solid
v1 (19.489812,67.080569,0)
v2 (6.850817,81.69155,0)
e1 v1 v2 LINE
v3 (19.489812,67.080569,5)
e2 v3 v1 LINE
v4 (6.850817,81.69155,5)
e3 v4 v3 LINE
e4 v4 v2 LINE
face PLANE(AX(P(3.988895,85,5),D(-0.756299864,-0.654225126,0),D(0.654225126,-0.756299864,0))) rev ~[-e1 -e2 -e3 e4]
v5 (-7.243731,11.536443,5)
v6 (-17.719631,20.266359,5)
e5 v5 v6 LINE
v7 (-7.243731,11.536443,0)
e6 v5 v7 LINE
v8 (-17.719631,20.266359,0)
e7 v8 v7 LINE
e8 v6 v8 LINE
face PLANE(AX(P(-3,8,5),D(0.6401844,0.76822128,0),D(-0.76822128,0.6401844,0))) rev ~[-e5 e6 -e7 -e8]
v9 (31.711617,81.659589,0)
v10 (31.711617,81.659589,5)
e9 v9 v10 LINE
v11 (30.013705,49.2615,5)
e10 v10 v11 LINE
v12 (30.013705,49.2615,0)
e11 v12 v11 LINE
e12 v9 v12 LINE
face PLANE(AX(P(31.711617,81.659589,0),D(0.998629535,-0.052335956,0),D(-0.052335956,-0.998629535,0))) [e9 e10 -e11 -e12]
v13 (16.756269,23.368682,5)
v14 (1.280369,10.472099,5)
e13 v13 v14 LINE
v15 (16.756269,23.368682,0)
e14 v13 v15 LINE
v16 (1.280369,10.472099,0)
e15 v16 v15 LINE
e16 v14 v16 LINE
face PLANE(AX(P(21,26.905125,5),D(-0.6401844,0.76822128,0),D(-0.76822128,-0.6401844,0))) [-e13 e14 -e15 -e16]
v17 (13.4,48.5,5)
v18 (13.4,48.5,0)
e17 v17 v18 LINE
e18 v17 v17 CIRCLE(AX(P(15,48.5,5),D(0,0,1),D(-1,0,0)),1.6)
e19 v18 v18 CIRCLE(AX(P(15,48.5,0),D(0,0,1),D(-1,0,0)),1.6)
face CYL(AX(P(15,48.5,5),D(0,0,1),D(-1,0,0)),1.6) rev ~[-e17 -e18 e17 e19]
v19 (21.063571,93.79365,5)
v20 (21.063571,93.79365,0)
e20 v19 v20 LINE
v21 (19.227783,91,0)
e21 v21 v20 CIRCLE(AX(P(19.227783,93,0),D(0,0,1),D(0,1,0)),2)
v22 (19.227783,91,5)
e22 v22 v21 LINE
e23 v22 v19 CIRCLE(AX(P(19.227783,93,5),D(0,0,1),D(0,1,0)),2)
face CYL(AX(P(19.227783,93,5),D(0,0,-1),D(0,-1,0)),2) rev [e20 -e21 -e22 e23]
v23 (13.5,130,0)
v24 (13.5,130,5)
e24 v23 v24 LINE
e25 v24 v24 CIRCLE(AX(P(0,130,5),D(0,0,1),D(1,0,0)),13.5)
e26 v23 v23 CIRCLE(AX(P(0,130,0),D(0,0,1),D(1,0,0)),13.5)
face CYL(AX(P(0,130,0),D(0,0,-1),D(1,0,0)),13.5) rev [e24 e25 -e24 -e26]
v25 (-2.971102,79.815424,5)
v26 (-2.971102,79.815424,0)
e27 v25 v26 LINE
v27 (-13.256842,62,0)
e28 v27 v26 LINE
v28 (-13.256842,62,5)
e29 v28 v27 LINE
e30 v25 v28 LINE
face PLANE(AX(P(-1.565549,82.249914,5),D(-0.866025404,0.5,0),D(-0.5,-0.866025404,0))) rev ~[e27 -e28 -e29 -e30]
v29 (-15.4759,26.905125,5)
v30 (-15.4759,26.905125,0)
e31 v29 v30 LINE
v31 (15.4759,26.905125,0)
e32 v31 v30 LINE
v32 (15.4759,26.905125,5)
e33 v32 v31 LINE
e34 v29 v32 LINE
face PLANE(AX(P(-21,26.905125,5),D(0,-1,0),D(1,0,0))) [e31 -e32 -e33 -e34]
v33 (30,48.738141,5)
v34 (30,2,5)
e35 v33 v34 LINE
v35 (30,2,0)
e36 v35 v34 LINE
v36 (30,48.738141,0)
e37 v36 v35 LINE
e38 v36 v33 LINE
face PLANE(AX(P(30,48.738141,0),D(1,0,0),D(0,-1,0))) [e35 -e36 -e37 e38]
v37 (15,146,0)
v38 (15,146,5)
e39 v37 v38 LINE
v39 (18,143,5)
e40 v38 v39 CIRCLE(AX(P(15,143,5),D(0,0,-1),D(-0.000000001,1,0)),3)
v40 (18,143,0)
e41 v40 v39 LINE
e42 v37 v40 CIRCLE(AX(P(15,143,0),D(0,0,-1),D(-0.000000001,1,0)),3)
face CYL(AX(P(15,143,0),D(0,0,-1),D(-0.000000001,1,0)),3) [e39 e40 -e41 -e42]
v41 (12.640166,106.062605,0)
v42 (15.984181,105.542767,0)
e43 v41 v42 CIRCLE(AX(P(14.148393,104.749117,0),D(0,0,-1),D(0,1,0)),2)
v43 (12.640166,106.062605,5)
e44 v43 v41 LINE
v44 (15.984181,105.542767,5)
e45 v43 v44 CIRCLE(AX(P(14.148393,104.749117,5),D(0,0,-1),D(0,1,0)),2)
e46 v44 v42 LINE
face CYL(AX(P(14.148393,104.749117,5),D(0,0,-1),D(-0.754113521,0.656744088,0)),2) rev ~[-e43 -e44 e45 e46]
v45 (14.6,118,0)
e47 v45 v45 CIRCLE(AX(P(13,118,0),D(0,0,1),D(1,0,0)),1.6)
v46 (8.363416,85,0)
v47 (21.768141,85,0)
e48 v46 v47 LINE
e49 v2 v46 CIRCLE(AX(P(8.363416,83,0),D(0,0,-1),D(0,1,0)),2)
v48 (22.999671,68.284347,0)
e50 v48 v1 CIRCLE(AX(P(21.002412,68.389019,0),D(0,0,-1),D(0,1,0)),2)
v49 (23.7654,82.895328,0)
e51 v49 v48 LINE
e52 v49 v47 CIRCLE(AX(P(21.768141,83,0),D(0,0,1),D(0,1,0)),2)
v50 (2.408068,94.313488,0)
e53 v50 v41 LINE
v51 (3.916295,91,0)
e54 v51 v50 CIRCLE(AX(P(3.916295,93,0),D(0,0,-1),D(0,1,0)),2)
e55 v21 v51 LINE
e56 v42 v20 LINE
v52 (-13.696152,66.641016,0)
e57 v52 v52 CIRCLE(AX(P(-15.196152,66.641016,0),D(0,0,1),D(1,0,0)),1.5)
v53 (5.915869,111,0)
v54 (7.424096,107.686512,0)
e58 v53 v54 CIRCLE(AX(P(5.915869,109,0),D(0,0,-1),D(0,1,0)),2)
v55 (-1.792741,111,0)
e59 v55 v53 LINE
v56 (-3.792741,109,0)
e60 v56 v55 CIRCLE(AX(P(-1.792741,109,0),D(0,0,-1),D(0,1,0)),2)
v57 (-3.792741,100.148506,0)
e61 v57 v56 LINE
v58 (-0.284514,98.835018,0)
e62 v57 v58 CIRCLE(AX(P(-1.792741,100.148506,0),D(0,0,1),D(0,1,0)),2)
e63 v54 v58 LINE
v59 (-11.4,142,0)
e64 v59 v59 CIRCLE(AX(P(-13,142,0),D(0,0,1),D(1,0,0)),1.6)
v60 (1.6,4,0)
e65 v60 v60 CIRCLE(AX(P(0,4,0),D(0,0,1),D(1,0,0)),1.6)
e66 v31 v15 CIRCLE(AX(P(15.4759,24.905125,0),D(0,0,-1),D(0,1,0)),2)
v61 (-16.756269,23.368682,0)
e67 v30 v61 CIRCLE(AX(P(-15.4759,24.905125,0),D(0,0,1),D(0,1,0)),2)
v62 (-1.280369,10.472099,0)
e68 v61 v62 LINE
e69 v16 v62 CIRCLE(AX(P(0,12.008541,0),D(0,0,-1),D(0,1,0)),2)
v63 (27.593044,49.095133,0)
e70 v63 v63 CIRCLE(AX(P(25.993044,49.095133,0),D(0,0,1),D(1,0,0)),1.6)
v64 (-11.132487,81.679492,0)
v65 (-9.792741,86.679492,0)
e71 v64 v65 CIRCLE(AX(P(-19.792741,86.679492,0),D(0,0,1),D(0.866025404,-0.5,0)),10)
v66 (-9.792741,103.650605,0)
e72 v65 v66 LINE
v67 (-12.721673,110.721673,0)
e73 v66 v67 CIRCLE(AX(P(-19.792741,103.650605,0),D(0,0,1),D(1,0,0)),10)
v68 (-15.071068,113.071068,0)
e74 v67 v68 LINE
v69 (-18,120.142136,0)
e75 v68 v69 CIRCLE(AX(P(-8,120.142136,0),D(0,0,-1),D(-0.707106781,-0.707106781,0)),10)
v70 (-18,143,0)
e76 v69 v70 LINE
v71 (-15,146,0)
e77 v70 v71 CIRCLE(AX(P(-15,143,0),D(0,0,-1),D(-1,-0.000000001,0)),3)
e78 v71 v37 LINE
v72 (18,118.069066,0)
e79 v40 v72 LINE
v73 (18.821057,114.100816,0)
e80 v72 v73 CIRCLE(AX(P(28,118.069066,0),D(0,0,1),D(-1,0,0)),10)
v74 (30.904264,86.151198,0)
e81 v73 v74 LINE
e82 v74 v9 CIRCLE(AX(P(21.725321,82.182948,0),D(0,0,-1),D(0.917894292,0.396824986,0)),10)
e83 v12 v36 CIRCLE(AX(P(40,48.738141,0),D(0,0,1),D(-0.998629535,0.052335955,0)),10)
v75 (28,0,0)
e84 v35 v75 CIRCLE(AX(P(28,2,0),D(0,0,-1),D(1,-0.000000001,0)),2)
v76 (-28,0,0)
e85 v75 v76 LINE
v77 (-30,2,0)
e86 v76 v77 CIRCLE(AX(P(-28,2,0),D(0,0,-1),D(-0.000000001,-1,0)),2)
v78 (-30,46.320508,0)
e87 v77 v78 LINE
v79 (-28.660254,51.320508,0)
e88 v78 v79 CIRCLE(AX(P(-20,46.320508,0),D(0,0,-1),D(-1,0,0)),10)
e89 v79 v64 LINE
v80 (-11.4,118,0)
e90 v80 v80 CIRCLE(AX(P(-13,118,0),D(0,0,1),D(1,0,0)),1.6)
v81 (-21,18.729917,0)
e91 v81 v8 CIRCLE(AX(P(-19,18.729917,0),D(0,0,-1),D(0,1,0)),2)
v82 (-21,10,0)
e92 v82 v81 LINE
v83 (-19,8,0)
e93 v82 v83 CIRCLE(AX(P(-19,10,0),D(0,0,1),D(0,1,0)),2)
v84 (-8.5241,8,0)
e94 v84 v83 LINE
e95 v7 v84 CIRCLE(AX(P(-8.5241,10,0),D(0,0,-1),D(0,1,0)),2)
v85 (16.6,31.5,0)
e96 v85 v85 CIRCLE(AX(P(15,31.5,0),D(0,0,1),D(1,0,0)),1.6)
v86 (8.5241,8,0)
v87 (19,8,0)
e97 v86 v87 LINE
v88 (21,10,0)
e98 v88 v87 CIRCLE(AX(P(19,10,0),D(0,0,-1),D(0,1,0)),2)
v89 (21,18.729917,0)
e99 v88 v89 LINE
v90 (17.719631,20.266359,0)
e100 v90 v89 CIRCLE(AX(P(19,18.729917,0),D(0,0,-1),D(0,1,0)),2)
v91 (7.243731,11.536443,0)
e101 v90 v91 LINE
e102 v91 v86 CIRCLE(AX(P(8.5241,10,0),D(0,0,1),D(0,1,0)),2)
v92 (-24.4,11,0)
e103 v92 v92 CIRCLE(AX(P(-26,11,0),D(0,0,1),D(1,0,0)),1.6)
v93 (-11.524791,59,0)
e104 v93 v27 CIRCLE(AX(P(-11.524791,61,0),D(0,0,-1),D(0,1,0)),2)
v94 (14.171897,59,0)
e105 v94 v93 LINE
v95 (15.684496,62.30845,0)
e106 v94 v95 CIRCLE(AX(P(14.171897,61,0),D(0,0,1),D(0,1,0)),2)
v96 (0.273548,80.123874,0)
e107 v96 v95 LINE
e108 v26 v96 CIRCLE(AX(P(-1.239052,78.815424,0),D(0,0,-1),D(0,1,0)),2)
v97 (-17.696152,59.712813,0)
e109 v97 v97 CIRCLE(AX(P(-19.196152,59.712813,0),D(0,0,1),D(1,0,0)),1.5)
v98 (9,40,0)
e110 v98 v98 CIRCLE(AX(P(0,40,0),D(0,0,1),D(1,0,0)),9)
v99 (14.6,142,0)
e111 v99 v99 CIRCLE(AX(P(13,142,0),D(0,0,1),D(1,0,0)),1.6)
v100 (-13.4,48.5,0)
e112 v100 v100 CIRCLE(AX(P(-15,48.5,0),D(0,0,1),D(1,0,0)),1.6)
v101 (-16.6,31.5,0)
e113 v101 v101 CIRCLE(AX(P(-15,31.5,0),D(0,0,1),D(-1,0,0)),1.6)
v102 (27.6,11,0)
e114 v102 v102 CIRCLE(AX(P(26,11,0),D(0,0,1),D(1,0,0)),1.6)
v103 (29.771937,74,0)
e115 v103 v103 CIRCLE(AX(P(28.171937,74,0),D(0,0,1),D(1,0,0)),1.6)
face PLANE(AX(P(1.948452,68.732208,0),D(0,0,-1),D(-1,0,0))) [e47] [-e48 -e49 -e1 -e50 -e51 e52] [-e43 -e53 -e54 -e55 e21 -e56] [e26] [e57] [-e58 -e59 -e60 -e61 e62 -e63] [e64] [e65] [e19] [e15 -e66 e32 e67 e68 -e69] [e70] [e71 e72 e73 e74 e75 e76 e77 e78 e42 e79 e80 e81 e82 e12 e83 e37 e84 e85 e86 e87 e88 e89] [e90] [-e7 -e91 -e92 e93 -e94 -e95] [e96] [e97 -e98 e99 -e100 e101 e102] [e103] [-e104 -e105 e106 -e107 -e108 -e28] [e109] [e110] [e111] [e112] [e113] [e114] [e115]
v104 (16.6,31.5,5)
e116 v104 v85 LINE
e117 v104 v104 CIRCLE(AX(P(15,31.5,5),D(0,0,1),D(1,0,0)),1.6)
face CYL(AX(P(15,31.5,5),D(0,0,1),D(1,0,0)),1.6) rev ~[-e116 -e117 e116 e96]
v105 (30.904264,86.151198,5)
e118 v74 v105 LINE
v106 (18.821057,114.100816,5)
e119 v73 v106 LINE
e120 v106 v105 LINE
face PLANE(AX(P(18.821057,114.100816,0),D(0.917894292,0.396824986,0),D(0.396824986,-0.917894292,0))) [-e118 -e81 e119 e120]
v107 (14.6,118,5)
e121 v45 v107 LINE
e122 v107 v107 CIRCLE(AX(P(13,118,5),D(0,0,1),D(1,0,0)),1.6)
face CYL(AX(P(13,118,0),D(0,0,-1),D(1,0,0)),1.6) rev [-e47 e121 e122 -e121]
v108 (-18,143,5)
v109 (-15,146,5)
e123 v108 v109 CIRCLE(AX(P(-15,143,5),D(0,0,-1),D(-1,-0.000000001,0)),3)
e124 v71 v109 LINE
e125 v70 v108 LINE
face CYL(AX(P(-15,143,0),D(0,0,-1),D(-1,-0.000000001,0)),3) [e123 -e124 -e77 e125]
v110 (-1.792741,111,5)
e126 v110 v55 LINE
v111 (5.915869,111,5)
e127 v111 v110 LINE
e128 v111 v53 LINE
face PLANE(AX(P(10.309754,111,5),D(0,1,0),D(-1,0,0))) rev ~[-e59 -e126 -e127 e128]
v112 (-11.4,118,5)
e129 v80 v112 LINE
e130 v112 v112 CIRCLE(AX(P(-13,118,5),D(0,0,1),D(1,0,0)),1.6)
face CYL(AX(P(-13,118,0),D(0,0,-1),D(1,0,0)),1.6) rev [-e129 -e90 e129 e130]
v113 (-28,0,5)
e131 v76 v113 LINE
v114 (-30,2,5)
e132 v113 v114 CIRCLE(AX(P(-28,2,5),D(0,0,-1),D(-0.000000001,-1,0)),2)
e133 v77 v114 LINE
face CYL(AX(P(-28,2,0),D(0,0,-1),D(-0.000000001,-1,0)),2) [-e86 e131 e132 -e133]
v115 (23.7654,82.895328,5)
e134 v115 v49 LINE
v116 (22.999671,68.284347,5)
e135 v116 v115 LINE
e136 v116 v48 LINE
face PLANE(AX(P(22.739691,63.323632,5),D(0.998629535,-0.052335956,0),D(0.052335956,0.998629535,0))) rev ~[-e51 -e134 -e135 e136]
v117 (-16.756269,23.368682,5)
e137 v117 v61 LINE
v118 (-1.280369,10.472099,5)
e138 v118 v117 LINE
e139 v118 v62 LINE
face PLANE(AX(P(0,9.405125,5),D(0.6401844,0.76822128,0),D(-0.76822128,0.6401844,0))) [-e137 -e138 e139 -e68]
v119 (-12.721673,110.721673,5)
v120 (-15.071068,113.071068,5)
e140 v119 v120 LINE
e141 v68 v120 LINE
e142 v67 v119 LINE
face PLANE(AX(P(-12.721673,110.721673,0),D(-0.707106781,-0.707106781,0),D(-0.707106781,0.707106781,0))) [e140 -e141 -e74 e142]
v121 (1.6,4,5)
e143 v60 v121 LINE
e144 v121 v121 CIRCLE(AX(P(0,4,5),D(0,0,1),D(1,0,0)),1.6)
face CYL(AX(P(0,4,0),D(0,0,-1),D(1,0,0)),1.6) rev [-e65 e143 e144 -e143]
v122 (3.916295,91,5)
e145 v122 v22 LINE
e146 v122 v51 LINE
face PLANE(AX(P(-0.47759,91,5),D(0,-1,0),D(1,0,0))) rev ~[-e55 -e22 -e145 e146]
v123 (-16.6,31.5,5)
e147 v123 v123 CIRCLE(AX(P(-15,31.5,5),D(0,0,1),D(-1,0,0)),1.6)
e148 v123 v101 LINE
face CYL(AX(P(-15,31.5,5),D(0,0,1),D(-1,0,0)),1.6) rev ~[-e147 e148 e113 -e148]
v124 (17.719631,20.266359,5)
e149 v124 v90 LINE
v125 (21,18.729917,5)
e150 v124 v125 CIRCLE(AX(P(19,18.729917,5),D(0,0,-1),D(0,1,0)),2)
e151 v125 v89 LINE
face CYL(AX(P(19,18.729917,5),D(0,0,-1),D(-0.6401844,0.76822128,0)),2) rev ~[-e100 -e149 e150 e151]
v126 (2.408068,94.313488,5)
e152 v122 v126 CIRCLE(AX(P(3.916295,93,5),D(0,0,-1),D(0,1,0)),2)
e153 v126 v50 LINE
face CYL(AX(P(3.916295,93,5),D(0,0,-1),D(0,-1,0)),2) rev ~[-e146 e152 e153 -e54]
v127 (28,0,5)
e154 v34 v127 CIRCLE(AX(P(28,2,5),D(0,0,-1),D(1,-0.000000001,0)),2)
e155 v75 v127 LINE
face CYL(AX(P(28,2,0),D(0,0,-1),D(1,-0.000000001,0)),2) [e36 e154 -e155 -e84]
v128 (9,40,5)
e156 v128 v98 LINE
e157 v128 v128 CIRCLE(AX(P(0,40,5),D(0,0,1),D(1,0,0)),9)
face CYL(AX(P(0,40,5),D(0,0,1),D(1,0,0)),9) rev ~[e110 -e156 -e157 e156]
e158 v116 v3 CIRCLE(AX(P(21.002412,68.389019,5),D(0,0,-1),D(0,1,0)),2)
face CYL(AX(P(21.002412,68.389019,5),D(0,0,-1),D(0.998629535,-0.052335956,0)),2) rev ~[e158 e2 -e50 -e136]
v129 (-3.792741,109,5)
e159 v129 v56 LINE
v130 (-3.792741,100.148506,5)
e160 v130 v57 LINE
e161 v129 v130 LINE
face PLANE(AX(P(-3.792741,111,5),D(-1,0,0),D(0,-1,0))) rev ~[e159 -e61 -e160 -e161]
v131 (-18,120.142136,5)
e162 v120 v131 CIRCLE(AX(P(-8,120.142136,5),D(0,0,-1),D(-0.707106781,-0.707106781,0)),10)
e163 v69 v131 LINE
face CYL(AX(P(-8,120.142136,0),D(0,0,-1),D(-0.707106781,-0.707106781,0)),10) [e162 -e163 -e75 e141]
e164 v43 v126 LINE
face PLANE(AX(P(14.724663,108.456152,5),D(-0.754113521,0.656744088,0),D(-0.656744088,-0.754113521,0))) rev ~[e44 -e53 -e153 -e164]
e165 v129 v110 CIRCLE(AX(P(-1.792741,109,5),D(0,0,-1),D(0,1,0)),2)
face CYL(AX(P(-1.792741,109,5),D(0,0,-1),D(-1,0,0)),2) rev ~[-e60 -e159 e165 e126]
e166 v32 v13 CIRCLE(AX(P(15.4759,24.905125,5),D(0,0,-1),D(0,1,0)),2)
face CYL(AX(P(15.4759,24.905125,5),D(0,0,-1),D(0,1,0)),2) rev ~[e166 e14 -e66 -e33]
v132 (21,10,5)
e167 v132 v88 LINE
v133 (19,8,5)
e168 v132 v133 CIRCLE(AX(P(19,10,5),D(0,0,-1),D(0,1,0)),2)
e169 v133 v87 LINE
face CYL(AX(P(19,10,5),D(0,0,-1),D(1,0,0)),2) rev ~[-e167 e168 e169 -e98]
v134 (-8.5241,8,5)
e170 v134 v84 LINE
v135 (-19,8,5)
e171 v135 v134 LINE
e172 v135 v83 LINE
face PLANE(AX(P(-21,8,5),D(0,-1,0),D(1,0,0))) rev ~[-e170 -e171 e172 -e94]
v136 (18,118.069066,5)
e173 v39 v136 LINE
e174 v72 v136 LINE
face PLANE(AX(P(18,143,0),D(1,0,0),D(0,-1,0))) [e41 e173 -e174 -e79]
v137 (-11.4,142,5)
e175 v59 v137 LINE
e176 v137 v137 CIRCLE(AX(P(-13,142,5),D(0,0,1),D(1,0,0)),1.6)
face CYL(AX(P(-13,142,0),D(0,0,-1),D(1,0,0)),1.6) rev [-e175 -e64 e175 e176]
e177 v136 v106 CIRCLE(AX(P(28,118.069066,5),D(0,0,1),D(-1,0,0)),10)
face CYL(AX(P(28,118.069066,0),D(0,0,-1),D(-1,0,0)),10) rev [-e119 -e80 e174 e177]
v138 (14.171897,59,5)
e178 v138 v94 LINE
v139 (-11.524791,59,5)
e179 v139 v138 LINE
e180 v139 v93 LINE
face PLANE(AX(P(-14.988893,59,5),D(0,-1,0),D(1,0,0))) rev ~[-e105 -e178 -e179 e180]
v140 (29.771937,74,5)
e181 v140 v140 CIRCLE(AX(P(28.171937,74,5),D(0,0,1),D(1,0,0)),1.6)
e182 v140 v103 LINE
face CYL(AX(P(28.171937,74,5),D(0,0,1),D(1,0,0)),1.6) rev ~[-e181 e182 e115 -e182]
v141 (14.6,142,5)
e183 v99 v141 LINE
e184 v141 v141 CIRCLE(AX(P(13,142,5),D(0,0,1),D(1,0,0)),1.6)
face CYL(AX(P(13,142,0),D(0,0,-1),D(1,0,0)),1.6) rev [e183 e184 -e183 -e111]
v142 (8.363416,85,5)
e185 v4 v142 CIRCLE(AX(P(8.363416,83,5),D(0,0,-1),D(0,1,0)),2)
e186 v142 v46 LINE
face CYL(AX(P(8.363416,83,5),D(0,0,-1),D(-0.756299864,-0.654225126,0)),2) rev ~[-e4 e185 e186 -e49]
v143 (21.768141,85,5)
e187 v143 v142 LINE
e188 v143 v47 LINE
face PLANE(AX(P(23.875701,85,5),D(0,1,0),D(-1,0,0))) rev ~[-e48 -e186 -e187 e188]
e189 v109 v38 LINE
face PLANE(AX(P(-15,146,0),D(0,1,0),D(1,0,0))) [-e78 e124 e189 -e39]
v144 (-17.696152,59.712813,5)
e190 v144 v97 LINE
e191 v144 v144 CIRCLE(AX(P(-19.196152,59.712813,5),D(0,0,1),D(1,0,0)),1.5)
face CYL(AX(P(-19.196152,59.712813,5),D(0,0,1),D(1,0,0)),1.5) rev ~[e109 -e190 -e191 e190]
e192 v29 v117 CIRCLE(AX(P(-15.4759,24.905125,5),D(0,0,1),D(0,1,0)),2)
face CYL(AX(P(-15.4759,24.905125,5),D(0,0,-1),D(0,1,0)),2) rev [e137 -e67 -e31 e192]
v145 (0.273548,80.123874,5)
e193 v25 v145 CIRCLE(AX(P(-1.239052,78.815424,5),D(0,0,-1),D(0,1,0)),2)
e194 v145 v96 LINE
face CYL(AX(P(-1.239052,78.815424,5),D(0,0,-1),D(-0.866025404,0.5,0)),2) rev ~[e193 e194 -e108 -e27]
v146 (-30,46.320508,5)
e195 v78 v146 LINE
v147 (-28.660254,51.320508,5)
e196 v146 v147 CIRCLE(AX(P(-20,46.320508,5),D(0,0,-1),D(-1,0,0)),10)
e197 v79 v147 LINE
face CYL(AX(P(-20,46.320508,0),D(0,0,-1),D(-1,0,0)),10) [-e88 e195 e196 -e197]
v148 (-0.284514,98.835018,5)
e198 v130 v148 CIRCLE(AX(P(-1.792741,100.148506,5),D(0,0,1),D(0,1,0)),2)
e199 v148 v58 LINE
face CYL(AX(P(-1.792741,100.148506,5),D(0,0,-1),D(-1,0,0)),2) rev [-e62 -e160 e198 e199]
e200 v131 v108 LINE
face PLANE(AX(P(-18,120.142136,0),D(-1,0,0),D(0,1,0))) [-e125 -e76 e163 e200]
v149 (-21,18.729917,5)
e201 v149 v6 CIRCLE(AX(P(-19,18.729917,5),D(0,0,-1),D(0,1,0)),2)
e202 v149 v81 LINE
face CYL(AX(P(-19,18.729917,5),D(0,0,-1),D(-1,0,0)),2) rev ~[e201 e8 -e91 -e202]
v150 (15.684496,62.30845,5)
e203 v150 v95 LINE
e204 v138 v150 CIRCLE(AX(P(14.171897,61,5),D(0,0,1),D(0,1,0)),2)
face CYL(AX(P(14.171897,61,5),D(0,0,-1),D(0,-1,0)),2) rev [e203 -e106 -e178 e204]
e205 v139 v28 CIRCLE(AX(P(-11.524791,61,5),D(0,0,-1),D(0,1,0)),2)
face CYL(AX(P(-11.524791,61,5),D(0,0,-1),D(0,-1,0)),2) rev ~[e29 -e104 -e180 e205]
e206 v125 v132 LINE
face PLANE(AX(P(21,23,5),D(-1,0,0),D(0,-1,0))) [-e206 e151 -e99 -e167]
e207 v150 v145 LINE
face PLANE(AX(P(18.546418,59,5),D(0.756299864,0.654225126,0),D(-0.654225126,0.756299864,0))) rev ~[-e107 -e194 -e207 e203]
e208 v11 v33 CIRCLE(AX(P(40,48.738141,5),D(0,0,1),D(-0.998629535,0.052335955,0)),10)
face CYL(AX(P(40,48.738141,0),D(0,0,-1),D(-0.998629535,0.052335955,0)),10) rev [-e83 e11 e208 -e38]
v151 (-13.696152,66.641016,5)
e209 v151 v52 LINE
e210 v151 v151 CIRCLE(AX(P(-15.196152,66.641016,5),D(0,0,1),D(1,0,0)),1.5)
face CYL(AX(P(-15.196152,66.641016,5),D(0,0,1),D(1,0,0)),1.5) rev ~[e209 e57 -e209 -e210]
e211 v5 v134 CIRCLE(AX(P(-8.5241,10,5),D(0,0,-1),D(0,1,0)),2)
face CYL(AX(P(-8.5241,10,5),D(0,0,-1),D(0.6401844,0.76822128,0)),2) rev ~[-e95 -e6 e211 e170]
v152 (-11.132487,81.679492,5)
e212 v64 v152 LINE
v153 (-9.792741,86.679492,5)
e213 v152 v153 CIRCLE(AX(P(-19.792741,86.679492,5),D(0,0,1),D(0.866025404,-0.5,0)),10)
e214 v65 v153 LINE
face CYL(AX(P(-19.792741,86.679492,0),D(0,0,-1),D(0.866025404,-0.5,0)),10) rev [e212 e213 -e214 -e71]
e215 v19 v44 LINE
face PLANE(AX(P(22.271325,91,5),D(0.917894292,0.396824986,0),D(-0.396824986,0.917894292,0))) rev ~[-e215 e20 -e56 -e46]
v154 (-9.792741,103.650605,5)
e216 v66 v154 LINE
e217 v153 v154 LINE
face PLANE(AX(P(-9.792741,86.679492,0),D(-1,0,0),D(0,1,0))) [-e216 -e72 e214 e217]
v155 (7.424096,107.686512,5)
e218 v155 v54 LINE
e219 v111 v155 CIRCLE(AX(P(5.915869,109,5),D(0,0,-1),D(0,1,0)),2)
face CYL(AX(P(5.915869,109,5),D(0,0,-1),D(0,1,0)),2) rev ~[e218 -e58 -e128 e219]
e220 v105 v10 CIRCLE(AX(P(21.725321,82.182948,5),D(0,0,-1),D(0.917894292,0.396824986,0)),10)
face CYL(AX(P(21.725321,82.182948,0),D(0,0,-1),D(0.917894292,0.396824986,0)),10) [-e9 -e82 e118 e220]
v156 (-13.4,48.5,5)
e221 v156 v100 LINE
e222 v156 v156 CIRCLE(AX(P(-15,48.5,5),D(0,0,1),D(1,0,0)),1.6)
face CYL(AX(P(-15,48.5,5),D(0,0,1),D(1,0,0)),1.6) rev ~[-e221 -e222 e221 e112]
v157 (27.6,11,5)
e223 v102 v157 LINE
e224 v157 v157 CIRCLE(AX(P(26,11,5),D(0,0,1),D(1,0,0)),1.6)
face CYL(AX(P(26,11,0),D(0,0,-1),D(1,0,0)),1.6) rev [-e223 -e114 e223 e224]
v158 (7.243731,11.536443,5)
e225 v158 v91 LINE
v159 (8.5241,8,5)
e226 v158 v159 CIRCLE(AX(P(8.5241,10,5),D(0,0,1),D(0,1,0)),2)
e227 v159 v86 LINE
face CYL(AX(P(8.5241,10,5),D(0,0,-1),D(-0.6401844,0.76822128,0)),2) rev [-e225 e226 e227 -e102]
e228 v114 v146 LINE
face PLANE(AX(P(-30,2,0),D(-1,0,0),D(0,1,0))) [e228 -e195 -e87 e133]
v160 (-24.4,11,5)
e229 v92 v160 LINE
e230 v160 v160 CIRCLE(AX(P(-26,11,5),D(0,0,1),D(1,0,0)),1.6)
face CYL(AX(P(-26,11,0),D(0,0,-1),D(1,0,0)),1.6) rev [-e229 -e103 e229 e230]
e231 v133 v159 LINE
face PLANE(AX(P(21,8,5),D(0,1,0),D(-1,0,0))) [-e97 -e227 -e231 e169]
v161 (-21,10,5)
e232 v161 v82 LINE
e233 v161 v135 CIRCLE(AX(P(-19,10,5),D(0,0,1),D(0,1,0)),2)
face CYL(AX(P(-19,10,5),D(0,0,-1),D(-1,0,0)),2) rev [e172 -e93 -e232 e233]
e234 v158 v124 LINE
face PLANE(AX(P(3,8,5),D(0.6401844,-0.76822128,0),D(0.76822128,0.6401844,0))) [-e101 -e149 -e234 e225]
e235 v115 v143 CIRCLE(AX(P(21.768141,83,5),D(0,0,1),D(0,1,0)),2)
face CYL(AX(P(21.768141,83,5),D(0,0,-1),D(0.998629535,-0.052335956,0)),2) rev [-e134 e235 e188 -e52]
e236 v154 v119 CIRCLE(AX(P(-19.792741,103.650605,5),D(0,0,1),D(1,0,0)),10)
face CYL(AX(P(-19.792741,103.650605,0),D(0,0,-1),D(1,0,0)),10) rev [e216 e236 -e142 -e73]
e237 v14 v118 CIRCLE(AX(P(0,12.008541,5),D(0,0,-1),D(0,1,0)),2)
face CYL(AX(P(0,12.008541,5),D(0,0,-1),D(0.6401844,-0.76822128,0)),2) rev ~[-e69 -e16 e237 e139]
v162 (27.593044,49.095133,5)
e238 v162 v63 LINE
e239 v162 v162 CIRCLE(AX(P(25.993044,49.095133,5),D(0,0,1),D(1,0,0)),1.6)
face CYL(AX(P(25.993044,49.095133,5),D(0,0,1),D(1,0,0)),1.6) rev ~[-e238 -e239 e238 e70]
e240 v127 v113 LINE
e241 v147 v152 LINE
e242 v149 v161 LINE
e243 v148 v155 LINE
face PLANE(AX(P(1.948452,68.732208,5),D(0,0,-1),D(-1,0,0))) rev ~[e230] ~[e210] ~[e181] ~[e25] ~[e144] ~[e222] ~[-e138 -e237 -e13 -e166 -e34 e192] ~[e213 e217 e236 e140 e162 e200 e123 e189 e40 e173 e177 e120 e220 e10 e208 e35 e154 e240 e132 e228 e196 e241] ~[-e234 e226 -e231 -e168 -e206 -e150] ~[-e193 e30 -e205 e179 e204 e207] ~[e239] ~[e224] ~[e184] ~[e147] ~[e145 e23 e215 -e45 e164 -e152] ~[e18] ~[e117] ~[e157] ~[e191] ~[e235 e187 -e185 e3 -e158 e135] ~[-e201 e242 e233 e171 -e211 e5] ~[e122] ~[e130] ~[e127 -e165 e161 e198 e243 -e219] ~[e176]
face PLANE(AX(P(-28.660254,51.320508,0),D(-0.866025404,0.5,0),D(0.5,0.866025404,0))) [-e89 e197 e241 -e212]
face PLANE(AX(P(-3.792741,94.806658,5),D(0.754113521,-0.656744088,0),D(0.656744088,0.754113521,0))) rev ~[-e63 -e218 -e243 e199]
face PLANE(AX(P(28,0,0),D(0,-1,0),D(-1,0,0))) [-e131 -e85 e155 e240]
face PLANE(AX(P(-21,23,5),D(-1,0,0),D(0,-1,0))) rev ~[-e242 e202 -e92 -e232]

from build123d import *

# Parameters (mm, degrees)
SKETCH_1_R          = 13.5
SKETCH_1_R_2        = 1.6
EXTRUDE_1_DEPTH     = 5
SKETCH_2_R          = 9
SKETCH_2_R_2        = 1.6
CUT_EXTRUDE_1_DEPTH = 150.490789026
CUT_EXTRUDE_2_DEPTH = 150.490789026
FILLET_1_R          = 2
FILLET_2_R          = 2
SKETCH_4_R          = 1.6
SKETCH_4_R_2        = 1.5
CUT_EXTRUDE_3_DEPTH = 150.490789026


with BuildPart() as part:
    # 草图1 → 凸台-拉伸1 (new body)
    with BuildSketch(Plane.XY):
        with BuildLine():
            Line((28, 0), (-28, 0))
            ThreePointArc((-28, 0), (-29.414213562, 0.585786438), (-30, 2))
            Line((-30, 2), (-30, 46.320508076))
            ThreePointArc((-30, 46.320508076), (-29.659258263, 48.908698527), (-28.660254038, 51.320508076))
            Line((-28.660254038, 51.320508076), (-11.132486541, 81.679491924))
            ThreePointArc((-11.132486541, 81.679491924), (-10.133482315, 84.091301473), (-9.792740578, 86.679491924))
            Line((-9.792740578, 86.679491924), (-9.792740578, 103.650604955))
            ThreePointArc((-9.792740578, 103.650604955), (-10.553945253, 107.477439278), (-12.721672766, 110.721672766))
            Line((-12.721672766, 110.721672766), (-15.071067812, 113.071067812))
            ThreePointArc((-15.071067812, 113.071067812), (-17.238795325, 116.3153013), (-18, 120.142135624))
            Line((-18, 120.142135624), (-18, 143))
            ThreePointArc((-18, 143), (-17.121320344, 145.121320344), (-15, 146))
            Line((-15, 146), (15, 146))
            ThreePointArc((15, 146), (17.121320344, 145.121320344), (18, 143))
            Line((18, 143), (18, 118.069065994))
            ThreePointArc((18, 118.069065994), (18.207415327, 116.0429156), (18.821057084, 114.100816135))
            Line((18.821057084, 114.100816135), (30.90426409, 86.151198222))
            ThreePointArc((30.90426409, 86.151198222), (31.567588607, 83.952064463), (31.711616521, 81.659588801))
            Line((31.711616521, 81.659588801), (30.013704652, 49.261500347))
            ThreePointArc((30.013704652, 49.261500347), (30.00342675, 48.999910267), (30, 48.738140784))
            Line((30, 48.738140784), (30, 2))
            ThreePointArc((30, 2), (29.414213562, 0.585786438), (28, 0))
        make_face()
        with Locations((0, 130)):
            Circle(SKETCH_1_R, mode=Mode.SUBTRACT)
        with Locations((-26, 11)):
            Circle(SKETCH_1_R_2, mode=Mode.SUBTRACT)
        with Locations((0, 4)):
            Circle(SKETCH_1_R_2, mode=Mode.SUBTRACT)
        with Locations((26, 11)):
            Circle(SKETCH_1_R_2, mode=Mode.SUBTRACT)
        with Locations((-13, 142)):
            Circle(SKETCH_1_R_2, mode=Mode.SUBTRACT)
        with Locations((13, 142)):
            Circle(SKETCH_1_R_2, mode=Mode.SUBTRACT)
        with Locations((13, 118)):
            Circle(SKETCH_1_R_2, mode=Mode.SUBTRACT)
        with Locations((-13, 118)):
            Circle(SKETCH_1_R_2, mode=Mode.SUBTRACT)
    extrude(amount=EXTRUDE_1_DEPTH)

    # 草图2 → 切除-拉伸1 (cut, through all)
    with BuildSketch(Plane.XY.offset(5)):
        with Locations((0, 40)):
            Circle(SKETCH_2_R)
        with Locations((-15, 48.5)):
            Circle(SKETCH_2_R_2)
        with Locations(Location((15, 48.5, 0), (0, 0, 180))):
            Circle(SKETCH_2_R_2)
        with Locations((15, 31.5)):
            Circle(SKETCH_2_R_2)
        with Locations(Location((-15, 31.5, 0), (0, 0, 180))):
            Circle(SKETCH_2_R_2)
    extrude(amount=-CUT_EXTRUDE_1_DEPTH, mode=Mode.SUBTRACT)

    # 草图3 → 切除-拉伸2 (cut, through all)
    with BuildSketch(Plane.XY.offset(5)):
        Polygon((-21, 23), (-21, 8), (-3, 8), align=None)
        Polygon((0, 9.405124838), (-21, 26.905124838), (21, 26.905124838), align=None)
        Polygon((21, 8), (3, 8), (21, 23), align=None)
        Polygon((-14.988893001, 59), (18.546418422, 59), (-1.565548778, 82.249914202), align=None)
        Polygon((22.739690965, 63.323631779), (23.875701286, 85), (3.988894601, 85), align=None)
        Polygon((-3.792740578, 111), (-3.792740578, 94.806657793), (10.309753882, 111), align=None)
        Polygon((-0.477589836, 91), (22.271324796, 91), (14.724663463, 108.45615222), align=None)
    extrude(amount=-CUT_EXTRUDE_2_DEPTH, mode=Mode.SUBTRACT)

    # 圆角1
    fillet_1_edges = [part.edges().sort_by_distance(p)[0] for p in [
        (21, 26.905124838, 2.5),
        (0, 9.405124838, 2.5),
        (-21, 26.905124838, 2.5),
        (21, 23, 2.5),
        (21, 8, 2.5),
        (3, 8, 2.5),
        (-21, 23, 2.5),
        (-3, 8, 2.5),
        (-21, 8, 2.5),
    ]]
    fillet(fillet_1_edges, radius=FILLET_1_R)

    # 圆角2
    fillet_2_edges = [part.edges().sort_by_distance(p)[0] for p in [
        (-3.792740578, 111, 2.5),
        (10.309753882, 111, 2.5),
        (-3.792740578, 94.806657793, 2.5),
        (14.724663463, 108.45615222, 2.5),
        (22.271324796, 91, 2.5),
        (-0.477589836, 91, 2.5),
        (-14.988893001, 59, 2.5),
        (-1.565548778, 82.249914202, 2.5),
        (18.546418422, 59, 2.5),
        (3.988894601, 85, 2.5),
        (23.875701286, 85, 2.5),
        (22.739690965, 63.323631779, 2.5),
    ]]
    fillet(fillet_2_edges, radius=FILLET_2_R)

    # 草图4 → 切除-拉伸3 (cut, through all)
    with BuildSketch(Plane.XY.offset(5)):
        with Locations((25.993043669, 49.095132548)):
            Circle(SKETCH_4_R)
        with Locations((28.171937238, 74)):
            Circle(SKETCH_4_R)
        with Locations((-19.196152423, 59.712812921)):
            Circle(SKETCH_4_R_2)
        with Locations((-15.196152423, 66.641016151)):
            Circle(SKETCH_4_R_2)
    extrude(amount=-CUT_EXTRUDE_3_DEPTH, mode=Mode.SUBTRACT)


solid = part.part
